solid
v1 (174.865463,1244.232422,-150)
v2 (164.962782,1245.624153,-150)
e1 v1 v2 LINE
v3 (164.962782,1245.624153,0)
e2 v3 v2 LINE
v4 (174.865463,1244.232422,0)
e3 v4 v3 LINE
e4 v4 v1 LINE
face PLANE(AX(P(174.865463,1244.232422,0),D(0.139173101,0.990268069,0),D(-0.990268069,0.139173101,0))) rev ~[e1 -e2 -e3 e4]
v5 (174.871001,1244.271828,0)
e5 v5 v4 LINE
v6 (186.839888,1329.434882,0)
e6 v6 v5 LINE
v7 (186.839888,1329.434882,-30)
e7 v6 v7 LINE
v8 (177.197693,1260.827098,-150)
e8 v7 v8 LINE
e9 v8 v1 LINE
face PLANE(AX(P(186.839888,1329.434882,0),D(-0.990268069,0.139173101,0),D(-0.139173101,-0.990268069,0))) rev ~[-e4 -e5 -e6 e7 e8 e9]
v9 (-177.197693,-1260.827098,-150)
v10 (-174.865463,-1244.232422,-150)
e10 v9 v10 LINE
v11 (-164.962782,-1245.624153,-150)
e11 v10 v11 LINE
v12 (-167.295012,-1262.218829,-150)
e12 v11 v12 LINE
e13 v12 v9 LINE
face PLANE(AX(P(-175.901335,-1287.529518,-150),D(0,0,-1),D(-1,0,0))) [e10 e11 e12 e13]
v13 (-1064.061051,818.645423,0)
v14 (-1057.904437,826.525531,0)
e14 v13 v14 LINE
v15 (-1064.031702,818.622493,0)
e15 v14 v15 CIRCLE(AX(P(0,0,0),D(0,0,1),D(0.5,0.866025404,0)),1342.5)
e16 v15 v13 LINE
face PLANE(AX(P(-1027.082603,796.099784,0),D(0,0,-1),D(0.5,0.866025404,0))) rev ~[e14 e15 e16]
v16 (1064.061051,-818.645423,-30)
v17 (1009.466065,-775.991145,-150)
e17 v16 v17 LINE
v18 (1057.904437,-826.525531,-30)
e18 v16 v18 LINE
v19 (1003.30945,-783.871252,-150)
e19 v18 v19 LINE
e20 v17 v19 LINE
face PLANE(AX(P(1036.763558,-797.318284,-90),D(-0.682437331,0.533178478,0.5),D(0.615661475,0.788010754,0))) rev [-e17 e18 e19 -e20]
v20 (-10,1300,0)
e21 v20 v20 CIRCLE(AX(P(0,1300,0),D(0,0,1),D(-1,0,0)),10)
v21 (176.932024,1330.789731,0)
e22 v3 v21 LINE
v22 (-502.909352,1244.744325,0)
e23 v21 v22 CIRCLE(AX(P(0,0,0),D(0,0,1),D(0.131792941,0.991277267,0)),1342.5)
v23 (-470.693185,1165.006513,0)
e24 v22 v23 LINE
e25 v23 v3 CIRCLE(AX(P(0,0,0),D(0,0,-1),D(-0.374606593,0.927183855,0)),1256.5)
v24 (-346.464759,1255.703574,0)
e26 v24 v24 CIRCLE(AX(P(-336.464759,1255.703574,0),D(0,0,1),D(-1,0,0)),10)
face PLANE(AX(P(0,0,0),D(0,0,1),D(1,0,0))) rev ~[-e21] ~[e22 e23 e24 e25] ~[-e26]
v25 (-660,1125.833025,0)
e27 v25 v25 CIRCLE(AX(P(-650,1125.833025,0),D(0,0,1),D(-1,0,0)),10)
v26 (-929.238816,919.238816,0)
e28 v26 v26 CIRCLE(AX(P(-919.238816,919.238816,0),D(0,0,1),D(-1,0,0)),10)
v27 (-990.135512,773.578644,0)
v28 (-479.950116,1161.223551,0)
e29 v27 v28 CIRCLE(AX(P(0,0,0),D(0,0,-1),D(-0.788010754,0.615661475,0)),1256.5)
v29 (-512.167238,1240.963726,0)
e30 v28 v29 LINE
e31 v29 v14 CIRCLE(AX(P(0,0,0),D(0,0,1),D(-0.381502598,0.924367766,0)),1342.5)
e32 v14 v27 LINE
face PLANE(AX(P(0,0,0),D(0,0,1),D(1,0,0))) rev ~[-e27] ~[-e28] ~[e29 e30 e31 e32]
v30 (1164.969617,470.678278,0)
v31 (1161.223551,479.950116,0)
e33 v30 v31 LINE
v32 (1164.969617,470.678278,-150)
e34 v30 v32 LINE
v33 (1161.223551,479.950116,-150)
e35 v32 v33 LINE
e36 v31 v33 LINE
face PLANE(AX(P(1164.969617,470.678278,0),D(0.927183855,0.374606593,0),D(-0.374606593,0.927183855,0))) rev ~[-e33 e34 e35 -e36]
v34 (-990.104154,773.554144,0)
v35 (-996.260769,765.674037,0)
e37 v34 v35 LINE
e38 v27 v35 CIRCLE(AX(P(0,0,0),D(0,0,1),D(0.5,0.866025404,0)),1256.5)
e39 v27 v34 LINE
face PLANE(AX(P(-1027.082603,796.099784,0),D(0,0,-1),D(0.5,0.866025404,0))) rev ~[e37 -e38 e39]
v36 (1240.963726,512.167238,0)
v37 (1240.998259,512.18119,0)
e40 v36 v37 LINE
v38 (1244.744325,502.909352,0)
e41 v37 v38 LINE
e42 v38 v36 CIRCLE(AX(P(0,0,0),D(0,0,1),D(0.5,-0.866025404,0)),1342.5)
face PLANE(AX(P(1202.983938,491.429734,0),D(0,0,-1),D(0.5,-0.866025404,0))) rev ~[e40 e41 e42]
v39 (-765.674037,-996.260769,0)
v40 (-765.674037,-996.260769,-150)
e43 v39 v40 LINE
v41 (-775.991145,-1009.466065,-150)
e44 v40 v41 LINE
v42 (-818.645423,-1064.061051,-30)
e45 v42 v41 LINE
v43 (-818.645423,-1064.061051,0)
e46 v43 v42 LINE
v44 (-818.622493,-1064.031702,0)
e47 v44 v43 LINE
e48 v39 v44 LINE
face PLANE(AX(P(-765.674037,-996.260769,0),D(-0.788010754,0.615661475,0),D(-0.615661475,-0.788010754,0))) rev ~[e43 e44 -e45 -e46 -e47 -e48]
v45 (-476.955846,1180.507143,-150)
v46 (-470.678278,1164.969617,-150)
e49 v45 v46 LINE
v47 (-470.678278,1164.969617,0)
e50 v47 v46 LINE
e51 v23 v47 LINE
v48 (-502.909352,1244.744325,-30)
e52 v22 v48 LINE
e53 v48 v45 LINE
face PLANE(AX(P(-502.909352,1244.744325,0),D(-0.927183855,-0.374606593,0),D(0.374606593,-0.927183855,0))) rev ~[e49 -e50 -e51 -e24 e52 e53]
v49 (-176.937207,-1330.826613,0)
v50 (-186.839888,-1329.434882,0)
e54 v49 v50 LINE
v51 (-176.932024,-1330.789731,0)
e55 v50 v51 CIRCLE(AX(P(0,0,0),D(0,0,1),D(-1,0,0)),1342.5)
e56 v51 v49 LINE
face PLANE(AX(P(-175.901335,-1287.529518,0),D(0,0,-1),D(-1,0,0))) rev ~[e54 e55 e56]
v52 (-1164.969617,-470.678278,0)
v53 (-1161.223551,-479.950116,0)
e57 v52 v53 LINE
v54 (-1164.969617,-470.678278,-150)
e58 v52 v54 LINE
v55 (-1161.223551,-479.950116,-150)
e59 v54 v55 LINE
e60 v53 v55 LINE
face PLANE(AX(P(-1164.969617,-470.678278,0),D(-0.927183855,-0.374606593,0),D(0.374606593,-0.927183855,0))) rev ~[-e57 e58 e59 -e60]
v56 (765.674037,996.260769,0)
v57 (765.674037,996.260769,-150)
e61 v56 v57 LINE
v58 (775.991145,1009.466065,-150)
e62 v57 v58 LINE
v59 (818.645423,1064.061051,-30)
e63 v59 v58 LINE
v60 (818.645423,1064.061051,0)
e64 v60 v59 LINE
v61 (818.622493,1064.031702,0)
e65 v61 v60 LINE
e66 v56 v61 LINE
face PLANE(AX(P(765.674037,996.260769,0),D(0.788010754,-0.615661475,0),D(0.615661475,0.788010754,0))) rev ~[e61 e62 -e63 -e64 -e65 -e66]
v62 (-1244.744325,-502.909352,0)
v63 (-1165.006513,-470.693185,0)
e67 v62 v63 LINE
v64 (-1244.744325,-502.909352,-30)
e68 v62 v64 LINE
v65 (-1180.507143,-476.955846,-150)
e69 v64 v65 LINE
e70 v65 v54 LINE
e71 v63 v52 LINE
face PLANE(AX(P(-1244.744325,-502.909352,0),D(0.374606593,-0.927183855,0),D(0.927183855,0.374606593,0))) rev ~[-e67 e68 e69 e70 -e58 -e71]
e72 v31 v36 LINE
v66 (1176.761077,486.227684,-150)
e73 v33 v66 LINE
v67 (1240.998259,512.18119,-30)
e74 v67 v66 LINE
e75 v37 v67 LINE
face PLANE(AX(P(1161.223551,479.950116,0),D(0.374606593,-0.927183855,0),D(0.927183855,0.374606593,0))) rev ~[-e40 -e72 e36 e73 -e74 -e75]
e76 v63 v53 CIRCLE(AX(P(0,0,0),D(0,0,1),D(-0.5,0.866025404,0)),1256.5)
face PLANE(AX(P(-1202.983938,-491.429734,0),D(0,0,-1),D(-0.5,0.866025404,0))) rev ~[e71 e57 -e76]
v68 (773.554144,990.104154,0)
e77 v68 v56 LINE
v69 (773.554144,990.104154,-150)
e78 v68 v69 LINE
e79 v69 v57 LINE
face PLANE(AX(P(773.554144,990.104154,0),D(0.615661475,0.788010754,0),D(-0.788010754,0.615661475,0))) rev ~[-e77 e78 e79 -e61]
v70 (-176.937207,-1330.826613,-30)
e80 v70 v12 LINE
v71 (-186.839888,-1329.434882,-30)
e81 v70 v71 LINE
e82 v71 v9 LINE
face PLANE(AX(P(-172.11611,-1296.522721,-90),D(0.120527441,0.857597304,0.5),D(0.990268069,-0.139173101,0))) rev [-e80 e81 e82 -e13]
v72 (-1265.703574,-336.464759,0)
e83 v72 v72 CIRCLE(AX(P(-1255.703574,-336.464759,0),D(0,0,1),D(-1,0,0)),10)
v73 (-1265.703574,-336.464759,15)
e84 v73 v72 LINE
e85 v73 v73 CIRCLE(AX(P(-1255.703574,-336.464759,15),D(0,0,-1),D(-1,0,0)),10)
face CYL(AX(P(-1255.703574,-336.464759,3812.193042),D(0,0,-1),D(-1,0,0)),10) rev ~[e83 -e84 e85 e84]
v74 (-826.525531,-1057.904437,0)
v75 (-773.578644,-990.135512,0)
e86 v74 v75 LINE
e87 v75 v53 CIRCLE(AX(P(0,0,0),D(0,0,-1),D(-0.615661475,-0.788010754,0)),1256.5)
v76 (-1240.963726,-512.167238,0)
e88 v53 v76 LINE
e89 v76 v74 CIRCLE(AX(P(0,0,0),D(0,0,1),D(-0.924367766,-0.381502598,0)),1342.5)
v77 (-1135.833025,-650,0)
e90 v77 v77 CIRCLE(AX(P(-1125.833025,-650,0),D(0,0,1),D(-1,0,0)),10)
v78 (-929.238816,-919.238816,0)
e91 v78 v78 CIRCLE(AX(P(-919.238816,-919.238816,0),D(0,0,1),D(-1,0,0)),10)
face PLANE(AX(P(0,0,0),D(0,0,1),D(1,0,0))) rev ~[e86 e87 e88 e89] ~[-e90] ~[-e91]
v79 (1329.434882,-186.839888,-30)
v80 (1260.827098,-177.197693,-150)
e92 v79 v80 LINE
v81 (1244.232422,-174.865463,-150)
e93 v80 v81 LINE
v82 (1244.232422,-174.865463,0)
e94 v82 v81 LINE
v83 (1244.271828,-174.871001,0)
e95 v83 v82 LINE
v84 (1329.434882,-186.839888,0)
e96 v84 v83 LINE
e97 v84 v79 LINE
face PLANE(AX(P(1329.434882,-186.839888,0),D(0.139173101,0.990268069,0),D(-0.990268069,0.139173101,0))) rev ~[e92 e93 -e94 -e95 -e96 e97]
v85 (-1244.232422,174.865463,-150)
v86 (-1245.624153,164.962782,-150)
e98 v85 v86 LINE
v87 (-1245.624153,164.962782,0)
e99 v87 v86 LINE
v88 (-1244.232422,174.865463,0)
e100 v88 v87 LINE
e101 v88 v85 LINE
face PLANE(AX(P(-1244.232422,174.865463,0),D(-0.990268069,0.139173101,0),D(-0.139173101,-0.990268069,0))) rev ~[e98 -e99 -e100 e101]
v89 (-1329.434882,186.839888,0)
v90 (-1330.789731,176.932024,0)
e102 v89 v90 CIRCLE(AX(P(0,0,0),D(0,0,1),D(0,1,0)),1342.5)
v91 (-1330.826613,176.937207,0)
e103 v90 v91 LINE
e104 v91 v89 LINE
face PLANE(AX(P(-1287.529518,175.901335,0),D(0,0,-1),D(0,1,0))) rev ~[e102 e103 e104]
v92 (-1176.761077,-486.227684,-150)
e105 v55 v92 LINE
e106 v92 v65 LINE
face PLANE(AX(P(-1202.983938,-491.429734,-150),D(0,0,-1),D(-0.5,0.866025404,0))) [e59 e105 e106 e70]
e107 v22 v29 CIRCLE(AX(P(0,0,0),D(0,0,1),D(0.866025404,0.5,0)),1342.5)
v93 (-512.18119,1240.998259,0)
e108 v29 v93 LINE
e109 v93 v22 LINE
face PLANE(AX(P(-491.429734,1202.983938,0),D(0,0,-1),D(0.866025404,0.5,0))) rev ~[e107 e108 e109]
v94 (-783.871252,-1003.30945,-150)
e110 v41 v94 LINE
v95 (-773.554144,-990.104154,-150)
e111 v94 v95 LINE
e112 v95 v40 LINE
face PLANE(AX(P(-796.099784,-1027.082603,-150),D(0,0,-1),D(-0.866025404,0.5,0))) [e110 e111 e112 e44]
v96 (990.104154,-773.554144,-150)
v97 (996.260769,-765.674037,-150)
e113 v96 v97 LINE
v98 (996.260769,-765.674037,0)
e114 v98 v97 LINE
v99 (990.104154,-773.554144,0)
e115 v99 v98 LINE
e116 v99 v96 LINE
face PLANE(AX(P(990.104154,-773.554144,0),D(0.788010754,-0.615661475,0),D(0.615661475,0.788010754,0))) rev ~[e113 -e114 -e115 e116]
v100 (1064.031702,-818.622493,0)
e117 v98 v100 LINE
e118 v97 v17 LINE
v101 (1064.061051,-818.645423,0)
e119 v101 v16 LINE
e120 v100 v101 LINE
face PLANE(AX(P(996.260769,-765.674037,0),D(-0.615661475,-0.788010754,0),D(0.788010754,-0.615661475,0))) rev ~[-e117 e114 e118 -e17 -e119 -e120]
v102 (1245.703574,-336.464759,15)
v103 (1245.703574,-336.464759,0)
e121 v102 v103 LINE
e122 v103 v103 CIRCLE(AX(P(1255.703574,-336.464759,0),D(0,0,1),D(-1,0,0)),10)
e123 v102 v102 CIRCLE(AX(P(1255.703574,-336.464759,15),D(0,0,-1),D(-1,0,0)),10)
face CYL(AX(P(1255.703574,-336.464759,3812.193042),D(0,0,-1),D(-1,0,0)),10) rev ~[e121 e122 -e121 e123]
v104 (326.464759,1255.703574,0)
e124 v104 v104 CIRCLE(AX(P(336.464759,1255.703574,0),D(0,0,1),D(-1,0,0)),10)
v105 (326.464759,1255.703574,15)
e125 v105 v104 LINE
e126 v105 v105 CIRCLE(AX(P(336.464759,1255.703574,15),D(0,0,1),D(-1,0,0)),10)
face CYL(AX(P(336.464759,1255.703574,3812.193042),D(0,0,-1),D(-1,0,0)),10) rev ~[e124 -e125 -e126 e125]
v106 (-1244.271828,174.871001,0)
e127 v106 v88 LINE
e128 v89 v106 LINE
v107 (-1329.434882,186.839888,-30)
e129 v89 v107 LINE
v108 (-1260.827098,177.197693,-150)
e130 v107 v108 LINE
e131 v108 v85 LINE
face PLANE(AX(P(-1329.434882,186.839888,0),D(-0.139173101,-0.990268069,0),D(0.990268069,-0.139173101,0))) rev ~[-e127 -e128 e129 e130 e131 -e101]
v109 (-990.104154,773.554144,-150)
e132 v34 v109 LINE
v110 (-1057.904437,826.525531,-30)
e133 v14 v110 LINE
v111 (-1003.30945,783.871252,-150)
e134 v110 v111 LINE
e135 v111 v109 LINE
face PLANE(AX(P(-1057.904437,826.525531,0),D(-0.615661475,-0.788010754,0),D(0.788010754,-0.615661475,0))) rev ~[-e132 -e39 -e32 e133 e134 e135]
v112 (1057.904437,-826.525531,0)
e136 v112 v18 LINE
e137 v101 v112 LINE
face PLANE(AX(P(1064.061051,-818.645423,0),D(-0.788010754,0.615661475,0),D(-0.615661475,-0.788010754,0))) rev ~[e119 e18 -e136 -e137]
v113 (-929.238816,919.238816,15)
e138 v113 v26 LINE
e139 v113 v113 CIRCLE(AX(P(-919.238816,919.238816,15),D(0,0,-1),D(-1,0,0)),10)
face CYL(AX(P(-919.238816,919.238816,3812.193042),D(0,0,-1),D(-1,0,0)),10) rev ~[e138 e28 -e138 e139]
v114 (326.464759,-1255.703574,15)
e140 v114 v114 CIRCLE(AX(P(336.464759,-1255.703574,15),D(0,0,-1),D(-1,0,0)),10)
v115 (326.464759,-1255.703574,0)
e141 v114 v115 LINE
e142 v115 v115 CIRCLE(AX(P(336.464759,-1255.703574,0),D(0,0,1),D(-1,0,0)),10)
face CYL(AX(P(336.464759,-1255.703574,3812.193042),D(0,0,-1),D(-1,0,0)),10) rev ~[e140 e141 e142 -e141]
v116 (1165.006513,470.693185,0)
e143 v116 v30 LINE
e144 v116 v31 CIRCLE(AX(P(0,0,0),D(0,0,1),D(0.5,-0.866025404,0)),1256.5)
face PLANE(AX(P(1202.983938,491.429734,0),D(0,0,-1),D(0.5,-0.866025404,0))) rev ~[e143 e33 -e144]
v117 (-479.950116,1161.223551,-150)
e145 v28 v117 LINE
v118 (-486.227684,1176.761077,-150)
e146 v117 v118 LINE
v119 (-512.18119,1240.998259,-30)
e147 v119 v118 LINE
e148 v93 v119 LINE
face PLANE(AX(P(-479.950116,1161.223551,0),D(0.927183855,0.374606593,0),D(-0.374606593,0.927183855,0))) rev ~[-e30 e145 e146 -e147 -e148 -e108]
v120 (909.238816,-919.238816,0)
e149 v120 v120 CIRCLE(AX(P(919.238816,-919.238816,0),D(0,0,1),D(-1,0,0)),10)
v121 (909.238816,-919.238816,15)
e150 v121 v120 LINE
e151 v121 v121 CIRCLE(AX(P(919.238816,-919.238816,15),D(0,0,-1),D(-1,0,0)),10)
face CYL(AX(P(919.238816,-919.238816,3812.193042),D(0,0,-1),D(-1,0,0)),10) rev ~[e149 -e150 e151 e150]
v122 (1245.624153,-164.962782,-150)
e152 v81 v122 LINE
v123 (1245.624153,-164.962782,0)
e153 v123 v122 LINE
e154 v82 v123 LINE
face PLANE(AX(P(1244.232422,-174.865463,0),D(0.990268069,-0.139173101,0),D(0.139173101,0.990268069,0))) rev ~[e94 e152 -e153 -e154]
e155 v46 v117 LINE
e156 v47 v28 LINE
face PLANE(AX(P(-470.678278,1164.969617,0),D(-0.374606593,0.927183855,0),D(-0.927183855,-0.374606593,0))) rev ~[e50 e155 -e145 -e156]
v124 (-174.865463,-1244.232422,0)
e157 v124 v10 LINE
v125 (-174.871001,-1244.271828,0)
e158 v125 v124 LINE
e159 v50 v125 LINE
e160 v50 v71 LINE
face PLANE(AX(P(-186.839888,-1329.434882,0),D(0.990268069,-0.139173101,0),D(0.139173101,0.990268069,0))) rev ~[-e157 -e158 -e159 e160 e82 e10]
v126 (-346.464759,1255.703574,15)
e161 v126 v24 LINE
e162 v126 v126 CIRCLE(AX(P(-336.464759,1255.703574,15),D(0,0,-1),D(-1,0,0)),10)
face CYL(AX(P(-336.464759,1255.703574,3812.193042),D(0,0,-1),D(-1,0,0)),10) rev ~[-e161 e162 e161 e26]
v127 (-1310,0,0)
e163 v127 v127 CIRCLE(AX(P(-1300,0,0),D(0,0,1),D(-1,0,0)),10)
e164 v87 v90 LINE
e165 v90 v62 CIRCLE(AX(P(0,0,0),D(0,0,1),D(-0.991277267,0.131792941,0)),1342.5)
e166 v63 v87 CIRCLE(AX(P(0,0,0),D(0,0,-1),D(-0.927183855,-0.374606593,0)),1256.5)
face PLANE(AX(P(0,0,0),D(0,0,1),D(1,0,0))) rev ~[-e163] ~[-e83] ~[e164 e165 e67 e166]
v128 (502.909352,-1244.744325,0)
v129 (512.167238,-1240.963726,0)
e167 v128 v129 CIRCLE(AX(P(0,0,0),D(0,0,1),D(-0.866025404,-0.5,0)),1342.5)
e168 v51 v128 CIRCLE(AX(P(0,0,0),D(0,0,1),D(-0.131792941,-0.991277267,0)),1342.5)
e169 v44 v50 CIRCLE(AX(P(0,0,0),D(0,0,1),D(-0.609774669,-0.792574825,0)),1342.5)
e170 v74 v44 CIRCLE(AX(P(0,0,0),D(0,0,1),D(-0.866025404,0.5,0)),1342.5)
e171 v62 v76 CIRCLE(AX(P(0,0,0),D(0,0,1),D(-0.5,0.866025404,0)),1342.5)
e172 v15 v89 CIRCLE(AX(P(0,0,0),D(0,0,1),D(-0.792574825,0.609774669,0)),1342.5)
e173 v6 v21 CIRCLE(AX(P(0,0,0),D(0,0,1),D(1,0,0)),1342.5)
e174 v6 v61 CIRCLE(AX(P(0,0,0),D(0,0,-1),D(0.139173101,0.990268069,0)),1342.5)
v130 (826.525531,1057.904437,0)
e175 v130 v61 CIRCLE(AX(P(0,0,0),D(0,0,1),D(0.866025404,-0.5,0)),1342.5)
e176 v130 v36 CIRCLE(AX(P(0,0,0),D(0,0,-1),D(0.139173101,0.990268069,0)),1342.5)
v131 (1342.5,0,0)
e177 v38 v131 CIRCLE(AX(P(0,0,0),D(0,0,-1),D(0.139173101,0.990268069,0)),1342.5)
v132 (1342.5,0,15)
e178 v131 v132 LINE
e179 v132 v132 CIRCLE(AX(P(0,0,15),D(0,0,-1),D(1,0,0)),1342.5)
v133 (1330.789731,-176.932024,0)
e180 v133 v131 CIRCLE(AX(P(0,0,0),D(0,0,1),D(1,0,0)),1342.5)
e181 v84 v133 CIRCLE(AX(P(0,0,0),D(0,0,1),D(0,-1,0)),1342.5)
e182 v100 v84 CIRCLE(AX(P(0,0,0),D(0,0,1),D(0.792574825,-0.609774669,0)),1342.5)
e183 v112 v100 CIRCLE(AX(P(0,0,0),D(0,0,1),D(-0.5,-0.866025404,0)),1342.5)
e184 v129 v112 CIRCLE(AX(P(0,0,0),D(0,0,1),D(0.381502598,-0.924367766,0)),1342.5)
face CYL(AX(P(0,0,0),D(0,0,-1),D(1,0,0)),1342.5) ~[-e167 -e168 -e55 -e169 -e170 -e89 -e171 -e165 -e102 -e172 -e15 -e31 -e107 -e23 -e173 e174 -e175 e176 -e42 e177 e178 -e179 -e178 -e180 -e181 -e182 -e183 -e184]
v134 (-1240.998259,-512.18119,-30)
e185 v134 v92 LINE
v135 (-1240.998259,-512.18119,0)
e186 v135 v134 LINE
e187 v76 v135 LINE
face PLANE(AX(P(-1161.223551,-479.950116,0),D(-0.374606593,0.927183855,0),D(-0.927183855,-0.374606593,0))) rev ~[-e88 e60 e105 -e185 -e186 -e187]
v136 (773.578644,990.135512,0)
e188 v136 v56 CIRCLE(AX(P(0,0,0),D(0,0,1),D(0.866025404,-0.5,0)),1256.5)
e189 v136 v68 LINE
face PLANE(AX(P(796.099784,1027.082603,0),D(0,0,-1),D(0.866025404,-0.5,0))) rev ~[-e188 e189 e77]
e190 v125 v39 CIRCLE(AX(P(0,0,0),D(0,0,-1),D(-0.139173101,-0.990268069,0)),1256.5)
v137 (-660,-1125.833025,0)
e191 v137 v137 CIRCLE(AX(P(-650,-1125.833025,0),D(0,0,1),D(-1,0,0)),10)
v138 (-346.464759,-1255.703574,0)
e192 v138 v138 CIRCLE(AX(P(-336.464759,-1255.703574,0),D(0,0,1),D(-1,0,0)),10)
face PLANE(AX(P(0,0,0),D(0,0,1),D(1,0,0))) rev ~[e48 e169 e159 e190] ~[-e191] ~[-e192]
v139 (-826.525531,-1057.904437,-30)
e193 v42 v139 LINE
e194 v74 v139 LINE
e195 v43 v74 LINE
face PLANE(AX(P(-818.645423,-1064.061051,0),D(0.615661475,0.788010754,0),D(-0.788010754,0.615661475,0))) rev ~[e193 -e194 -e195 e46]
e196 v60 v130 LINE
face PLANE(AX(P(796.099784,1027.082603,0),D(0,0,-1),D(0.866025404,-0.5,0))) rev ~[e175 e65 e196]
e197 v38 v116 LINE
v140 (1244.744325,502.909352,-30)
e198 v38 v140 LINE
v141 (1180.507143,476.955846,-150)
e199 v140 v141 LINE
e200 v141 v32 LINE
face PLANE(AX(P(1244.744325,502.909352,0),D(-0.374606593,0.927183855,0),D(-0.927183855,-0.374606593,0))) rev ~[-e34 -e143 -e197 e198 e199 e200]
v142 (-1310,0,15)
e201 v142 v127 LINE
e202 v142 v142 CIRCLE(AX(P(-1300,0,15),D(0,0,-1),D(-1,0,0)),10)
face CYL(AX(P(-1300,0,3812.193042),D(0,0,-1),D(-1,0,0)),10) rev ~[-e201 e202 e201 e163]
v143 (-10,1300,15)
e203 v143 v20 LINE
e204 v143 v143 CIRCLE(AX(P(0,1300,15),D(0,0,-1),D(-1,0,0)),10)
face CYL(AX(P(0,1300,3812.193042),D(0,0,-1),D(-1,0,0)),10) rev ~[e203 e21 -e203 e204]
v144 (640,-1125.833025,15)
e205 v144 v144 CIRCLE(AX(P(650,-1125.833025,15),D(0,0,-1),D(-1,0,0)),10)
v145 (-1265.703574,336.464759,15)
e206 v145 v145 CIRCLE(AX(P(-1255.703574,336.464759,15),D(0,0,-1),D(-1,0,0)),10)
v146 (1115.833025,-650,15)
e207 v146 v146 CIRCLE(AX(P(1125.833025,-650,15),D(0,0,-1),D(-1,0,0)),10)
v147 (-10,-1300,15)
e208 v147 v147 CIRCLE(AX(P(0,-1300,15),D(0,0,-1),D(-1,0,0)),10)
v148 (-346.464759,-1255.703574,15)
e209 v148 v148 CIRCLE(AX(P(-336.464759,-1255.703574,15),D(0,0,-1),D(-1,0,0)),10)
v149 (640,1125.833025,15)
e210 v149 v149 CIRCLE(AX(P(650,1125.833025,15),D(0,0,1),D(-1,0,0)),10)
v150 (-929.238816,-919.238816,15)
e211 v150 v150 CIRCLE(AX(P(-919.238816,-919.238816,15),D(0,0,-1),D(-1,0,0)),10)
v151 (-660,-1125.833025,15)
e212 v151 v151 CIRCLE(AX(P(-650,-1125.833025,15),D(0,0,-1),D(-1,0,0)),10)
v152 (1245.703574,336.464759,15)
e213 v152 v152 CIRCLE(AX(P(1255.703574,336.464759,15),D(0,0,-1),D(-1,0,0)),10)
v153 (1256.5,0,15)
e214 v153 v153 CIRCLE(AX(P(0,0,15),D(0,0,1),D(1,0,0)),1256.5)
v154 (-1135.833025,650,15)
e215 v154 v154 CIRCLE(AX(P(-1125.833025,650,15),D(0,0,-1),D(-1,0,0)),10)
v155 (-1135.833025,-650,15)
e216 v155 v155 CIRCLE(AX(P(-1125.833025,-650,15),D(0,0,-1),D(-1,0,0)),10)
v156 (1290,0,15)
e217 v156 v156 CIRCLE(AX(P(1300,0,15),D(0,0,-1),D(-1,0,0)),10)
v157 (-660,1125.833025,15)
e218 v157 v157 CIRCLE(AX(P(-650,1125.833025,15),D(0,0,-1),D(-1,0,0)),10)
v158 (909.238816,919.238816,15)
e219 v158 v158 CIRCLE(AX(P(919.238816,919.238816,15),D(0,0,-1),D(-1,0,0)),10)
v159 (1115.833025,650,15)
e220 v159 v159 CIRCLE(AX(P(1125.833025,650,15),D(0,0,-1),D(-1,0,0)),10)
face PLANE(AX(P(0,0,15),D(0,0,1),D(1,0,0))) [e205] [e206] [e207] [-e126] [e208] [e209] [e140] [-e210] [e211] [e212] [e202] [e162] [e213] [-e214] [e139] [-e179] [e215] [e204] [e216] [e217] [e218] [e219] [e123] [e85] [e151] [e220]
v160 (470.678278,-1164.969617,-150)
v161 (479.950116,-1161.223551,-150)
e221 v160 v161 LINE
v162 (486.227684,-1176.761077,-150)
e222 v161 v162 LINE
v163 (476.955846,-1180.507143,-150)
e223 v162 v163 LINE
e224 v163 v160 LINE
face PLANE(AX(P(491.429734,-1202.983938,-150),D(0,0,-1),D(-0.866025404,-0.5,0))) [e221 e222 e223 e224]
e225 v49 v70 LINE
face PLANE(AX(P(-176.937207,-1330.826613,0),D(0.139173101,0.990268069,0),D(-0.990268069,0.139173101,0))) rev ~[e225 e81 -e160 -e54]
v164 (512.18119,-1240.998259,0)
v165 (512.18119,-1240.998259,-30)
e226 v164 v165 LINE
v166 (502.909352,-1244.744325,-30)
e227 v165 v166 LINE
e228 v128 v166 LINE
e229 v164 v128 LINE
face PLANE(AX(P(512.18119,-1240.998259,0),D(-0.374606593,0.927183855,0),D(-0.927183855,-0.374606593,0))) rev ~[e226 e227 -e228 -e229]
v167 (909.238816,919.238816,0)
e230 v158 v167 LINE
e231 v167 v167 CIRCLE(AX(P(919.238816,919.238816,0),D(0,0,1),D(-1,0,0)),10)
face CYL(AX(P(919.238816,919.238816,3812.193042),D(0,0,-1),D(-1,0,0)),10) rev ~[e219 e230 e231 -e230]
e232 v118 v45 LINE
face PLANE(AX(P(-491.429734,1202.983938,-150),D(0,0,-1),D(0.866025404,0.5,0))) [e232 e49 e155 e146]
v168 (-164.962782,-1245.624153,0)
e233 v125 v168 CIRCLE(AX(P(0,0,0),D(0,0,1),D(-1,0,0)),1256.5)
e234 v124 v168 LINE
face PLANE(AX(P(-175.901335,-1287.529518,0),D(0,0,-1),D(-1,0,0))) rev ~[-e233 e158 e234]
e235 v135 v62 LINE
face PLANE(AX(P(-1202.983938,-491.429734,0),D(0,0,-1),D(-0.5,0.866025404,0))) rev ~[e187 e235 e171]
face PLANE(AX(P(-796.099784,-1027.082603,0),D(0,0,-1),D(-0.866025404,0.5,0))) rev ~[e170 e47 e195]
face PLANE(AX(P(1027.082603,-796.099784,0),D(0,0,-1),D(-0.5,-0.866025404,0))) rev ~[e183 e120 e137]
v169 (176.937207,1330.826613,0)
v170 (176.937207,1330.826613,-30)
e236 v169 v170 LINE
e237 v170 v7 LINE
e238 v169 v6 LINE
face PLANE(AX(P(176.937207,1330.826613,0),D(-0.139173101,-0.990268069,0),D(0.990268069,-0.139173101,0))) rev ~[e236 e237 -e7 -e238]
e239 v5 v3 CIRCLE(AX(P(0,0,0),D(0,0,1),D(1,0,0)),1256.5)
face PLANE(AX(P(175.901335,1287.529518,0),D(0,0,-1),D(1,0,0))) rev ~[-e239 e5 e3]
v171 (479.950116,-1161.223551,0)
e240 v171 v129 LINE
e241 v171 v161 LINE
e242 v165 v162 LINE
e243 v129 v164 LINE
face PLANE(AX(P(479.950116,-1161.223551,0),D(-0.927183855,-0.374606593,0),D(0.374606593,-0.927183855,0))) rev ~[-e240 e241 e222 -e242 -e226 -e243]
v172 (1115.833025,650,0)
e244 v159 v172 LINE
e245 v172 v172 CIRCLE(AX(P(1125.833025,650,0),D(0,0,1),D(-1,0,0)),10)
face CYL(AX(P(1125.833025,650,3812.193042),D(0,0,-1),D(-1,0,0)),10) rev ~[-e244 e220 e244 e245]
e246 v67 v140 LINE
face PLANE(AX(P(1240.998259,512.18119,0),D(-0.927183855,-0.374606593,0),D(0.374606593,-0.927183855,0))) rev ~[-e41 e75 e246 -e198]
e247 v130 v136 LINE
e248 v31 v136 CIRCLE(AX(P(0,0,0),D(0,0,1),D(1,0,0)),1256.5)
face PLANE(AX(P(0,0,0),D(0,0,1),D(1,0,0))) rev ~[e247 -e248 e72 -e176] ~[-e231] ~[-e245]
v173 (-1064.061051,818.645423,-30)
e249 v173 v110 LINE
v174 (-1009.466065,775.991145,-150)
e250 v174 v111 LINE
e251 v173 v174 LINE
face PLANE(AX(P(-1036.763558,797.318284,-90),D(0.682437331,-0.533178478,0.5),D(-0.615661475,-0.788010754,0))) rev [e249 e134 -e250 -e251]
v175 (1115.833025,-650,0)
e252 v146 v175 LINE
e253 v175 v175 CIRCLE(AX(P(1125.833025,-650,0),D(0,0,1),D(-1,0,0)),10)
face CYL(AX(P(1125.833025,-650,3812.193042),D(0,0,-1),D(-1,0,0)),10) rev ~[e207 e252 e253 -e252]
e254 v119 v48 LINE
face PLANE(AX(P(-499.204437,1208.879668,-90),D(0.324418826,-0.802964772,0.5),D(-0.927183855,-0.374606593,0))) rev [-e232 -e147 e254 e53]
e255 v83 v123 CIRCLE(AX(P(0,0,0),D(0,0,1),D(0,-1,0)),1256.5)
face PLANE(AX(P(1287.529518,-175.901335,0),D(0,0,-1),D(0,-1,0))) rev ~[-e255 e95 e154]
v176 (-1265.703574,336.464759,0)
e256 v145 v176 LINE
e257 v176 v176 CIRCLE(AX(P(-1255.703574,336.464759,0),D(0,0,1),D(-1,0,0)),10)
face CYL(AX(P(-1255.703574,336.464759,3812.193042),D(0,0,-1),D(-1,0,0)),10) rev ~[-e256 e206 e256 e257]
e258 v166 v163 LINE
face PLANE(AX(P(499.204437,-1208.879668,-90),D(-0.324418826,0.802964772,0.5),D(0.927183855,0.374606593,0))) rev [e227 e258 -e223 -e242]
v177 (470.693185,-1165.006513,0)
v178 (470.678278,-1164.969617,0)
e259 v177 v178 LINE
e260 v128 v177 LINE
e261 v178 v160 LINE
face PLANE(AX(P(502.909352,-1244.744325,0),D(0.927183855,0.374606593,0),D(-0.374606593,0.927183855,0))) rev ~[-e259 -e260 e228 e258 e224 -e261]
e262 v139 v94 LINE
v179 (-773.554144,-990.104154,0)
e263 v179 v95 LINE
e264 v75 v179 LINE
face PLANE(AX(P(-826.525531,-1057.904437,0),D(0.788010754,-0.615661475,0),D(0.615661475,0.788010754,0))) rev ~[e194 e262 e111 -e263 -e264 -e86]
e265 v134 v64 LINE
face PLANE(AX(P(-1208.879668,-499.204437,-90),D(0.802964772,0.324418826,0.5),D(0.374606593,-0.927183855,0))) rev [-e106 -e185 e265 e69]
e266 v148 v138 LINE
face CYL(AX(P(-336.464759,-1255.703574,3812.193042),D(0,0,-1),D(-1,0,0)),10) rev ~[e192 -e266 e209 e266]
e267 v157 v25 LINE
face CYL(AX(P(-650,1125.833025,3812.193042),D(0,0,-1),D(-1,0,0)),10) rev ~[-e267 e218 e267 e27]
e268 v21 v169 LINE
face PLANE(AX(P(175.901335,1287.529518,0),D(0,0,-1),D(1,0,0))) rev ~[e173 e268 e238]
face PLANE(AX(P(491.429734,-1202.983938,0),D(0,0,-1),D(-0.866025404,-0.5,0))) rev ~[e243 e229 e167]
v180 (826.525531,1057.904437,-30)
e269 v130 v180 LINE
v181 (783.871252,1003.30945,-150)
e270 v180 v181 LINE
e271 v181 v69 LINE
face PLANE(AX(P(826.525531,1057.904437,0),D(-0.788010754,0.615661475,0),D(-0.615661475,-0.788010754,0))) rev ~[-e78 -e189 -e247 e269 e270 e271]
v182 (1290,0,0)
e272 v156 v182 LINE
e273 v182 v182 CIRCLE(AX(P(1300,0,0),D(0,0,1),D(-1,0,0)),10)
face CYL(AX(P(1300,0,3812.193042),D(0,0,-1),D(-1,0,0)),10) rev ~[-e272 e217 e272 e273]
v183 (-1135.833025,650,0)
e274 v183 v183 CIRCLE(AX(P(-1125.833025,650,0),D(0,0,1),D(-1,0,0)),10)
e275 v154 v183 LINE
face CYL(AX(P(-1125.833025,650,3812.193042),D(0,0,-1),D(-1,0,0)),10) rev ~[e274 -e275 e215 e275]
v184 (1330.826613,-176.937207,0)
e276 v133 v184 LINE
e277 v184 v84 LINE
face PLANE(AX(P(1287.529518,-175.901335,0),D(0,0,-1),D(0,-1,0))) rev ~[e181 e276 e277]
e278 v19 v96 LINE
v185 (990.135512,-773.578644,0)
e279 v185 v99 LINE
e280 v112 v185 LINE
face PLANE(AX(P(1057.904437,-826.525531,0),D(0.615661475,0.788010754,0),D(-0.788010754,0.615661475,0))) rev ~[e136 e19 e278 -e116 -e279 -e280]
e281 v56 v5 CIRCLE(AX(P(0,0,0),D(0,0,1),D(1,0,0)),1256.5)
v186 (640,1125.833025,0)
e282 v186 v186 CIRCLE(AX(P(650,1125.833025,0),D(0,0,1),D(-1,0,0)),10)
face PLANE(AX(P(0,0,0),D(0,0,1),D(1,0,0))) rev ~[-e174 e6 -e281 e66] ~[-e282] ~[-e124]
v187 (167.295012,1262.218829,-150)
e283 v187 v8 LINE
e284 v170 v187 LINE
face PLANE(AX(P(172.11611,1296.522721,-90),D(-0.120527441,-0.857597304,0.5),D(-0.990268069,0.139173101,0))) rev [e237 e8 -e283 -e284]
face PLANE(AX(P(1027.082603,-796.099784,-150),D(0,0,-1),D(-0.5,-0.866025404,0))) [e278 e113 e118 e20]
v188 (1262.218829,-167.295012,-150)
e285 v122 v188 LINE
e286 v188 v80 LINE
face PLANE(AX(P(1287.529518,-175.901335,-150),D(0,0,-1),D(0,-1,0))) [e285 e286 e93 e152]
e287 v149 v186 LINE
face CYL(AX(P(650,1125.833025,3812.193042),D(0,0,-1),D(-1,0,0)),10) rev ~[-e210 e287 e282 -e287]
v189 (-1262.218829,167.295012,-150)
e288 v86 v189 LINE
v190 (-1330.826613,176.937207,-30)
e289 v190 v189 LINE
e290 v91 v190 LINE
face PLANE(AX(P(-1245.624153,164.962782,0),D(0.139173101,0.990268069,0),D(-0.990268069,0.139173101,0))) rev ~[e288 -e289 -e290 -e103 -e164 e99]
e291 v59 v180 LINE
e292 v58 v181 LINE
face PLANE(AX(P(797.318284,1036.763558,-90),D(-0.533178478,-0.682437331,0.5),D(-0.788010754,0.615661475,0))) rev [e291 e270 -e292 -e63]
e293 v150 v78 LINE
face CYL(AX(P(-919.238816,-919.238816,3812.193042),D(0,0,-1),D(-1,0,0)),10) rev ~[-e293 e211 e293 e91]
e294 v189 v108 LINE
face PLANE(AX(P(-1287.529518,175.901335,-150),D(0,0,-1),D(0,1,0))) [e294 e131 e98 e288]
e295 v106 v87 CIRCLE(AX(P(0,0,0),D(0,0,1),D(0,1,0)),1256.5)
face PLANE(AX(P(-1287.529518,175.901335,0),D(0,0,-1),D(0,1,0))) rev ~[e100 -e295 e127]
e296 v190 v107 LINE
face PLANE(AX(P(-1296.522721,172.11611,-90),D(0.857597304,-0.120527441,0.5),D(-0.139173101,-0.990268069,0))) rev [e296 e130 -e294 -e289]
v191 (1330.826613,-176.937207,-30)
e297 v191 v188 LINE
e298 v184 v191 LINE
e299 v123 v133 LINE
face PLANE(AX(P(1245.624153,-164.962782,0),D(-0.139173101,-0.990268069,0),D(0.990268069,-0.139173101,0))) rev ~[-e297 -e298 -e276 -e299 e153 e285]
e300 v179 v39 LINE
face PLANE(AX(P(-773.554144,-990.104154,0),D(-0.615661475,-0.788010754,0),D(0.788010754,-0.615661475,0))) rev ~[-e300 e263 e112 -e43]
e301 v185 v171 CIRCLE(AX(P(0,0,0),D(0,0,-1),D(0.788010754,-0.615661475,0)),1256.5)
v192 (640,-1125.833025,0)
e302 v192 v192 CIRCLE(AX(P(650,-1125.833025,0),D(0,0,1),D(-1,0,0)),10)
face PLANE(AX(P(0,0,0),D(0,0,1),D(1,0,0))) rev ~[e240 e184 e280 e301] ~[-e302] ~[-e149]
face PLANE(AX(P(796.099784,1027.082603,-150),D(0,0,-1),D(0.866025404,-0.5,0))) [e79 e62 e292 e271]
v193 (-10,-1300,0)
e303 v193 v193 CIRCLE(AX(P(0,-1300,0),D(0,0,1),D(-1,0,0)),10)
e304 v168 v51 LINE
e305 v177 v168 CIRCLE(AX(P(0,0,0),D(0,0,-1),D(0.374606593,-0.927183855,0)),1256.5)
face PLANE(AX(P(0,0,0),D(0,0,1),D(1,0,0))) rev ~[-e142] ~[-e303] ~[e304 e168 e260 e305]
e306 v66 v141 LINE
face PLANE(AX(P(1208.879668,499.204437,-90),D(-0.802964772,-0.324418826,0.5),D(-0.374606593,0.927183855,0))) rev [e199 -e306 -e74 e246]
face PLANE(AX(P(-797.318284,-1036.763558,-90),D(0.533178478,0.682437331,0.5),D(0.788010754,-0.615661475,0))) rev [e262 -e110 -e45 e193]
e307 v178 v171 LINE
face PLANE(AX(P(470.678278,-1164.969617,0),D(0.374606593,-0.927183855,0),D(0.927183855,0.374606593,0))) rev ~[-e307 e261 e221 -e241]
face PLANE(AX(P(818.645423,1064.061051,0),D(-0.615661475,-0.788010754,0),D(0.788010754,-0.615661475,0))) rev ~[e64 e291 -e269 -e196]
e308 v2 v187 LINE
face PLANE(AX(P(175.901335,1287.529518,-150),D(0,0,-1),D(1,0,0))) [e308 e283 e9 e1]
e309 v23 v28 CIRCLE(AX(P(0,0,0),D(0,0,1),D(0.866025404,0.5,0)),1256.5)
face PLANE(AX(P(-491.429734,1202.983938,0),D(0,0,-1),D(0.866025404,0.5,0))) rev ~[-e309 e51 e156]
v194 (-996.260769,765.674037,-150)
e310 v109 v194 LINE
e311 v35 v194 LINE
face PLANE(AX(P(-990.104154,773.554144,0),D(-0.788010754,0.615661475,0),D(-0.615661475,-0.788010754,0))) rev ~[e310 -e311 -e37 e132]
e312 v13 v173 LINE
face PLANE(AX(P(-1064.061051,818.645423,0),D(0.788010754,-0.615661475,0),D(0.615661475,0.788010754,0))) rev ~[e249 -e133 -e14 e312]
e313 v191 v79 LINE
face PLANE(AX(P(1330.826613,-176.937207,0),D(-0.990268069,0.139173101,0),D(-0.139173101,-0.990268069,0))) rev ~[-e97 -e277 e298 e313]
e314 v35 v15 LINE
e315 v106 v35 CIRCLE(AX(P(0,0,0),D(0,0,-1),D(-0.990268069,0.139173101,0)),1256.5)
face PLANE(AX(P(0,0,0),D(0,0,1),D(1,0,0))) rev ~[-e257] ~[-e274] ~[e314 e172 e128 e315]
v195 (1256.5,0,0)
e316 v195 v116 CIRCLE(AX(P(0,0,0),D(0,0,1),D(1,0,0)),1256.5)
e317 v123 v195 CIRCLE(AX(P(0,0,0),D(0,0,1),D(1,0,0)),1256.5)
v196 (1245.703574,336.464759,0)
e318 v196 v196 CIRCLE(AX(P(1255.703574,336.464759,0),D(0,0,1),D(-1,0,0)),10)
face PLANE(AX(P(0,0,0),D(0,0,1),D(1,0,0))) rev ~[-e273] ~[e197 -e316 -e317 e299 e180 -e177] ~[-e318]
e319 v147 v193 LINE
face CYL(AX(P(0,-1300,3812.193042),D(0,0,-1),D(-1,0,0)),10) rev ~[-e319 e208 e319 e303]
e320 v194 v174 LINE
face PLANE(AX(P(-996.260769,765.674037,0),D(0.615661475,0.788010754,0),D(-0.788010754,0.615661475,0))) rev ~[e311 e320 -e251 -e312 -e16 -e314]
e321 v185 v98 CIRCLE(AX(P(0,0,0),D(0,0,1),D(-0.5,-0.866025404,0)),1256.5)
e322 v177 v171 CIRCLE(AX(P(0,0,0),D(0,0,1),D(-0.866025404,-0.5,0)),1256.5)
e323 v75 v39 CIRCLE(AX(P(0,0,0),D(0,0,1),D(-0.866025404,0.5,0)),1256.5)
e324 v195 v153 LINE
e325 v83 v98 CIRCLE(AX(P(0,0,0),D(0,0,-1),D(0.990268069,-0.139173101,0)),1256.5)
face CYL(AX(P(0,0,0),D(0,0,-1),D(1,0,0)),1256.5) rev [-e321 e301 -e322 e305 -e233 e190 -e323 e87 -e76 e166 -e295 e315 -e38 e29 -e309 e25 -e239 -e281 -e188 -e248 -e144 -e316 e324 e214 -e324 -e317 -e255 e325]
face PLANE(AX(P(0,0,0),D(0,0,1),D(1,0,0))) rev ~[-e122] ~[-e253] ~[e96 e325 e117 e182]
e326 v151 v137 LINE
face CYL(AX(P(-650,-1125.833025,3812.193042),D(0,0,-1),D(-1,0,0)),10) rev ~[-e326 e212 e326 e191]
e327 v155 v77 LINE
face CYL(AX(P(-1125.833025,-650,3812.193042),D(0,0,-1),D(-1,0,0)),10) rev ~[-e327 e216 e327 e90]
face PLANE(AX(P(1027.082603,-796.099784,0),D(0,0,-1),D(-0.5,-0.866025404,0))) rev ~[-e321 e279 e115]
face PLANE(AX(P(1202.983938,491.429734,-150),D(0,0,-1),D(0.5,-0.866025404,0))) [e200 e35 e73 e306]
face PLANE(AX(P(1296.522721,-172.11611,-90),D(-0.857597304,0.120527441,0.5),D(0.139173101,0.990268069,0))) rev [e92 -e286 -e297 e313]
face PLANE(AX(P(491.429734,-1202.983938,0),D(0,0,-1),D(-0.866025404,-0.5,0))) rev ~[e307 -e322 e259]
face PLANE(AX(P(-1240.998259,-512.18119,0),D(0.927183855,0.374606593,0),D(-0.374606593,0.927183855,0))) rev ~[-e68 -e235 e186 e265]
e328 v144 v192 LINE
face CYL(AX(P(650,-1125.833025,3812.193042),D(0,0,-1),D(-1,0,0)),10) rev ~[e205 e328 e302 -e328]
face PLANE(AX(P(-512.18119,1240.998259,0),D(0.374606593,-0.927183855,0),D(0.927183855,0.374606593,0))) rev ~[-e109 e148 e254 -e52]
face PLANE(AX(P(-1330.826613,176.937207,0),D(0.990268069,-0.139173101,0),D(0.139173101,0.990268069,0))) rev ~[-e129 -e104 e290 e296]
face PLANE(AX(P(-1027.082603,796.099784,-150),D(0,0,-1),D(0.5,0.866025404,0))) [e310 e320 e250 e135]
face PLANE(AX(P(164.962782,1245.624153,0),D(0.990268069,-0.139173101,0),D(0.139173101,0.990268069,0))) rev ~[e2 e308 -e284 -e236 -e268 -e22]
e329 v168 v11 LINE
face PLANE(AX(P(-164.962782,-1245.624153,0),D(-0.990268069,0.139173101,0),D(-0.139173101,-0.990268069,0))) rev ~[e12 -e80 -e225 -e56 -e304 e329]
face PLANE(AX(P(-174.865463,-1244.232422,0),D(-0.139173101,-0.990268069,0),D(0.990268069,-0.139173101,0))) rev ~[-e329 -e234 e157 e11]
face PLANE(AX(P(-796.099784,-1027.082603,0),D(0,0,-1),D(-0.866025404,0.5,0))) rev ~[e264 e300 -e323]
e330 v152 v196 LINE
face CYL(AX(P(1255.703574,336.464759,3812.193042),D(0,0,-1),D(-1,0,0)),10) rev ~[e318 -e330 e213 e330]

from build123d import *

# Parameters (mm, degrees)
F0_R     = 1342.5
F0_R_2   = 1256.5
F1_DEPTH = 15
F3_D     = 20
F5_DEPTH = 150
F6_SIZE2 = 69.2820323028
F6_SIZE  = 120
F7_COUNT = 12


with BuildPart() as f1:
    # F0 (on Top) → F1 (new body)
    with BuildSketch(Plane.XY):
        Circle(F0_R)
        Circle(F0_R_2, mode=Mode.SUBTRACT)
    extrude(amount=F1_DEPTH)

    # F3 (through all)
    with Locations(Plane.XY.offset(15)):
        with Locations((0, 1300), (-336.4647586333, 1255.7035741758), (-650, 1125.8330249198), (-919.2388155425, 919.2388155425), (-1125.8330249198, 650), (336.4647586333, 1255.7035741758), (650, 1125.8330249198), (919.2388155425, 919.2388155425), (1125.8330249198, 650), (1255.7035741758, 336.4647586333), (1300, 0), (1255.7035741758, -336.4647586333), (1125.8330249198, -650), (919.2388155425, -919.2388155425), (650, -1125.8330249198), (336.4647586333, -1255.7035741758), (0, -1300), (-336.4647586333, -1255.7035741758), (-650, -1125.8330249198), (-919.2388155425, -919.2388155425), (-1125.8330249198, -650), (-1255.7035741758, -336.4647586333), (-1300, 0), (-1255.7035741758, 336.4647586333)):
            Hole(F3_D / 2)

    # F4 (on face) → F5 (join)
    with BuildSketch(Plane(origin=(0, 0, 0), x_dir=(1, 0, 0), z_dir=(0, 0, -1))):
        Polygon((176.9372073515, -1330.8266132952), (186.8398880389, -1329.4348822856), (174.8654631428, -1244.2324219373), (164.9627824554, -1245.6241529469), align=None)
    extrude(amount=F5_DEPTH)

    # F6
    f6_edges = [f1.edges().sort_by_distance(p)[0] for p in [
        (181.888548, 1330.130748, -150),
    ]]
    f6_side = f1.faces().sort_by_distance((181.888548, 1330.130748, -75))[0]
    chamfer(f6_edges, length=F6_SIZE, length2=F6_SIZE2, reference=f6_side)

    # F7: F1 ×12 about axis
    f7_axis = Axis((0, 0, 15), (0, 0, 1))


with BuildPart() as f1_1:
    add(f1.part)
    for i in range(1, F7_COUNT):
        add(f1.part.rotate(f7_axis, i * 360 / F7_COUNT))


solid = f1_1.part
